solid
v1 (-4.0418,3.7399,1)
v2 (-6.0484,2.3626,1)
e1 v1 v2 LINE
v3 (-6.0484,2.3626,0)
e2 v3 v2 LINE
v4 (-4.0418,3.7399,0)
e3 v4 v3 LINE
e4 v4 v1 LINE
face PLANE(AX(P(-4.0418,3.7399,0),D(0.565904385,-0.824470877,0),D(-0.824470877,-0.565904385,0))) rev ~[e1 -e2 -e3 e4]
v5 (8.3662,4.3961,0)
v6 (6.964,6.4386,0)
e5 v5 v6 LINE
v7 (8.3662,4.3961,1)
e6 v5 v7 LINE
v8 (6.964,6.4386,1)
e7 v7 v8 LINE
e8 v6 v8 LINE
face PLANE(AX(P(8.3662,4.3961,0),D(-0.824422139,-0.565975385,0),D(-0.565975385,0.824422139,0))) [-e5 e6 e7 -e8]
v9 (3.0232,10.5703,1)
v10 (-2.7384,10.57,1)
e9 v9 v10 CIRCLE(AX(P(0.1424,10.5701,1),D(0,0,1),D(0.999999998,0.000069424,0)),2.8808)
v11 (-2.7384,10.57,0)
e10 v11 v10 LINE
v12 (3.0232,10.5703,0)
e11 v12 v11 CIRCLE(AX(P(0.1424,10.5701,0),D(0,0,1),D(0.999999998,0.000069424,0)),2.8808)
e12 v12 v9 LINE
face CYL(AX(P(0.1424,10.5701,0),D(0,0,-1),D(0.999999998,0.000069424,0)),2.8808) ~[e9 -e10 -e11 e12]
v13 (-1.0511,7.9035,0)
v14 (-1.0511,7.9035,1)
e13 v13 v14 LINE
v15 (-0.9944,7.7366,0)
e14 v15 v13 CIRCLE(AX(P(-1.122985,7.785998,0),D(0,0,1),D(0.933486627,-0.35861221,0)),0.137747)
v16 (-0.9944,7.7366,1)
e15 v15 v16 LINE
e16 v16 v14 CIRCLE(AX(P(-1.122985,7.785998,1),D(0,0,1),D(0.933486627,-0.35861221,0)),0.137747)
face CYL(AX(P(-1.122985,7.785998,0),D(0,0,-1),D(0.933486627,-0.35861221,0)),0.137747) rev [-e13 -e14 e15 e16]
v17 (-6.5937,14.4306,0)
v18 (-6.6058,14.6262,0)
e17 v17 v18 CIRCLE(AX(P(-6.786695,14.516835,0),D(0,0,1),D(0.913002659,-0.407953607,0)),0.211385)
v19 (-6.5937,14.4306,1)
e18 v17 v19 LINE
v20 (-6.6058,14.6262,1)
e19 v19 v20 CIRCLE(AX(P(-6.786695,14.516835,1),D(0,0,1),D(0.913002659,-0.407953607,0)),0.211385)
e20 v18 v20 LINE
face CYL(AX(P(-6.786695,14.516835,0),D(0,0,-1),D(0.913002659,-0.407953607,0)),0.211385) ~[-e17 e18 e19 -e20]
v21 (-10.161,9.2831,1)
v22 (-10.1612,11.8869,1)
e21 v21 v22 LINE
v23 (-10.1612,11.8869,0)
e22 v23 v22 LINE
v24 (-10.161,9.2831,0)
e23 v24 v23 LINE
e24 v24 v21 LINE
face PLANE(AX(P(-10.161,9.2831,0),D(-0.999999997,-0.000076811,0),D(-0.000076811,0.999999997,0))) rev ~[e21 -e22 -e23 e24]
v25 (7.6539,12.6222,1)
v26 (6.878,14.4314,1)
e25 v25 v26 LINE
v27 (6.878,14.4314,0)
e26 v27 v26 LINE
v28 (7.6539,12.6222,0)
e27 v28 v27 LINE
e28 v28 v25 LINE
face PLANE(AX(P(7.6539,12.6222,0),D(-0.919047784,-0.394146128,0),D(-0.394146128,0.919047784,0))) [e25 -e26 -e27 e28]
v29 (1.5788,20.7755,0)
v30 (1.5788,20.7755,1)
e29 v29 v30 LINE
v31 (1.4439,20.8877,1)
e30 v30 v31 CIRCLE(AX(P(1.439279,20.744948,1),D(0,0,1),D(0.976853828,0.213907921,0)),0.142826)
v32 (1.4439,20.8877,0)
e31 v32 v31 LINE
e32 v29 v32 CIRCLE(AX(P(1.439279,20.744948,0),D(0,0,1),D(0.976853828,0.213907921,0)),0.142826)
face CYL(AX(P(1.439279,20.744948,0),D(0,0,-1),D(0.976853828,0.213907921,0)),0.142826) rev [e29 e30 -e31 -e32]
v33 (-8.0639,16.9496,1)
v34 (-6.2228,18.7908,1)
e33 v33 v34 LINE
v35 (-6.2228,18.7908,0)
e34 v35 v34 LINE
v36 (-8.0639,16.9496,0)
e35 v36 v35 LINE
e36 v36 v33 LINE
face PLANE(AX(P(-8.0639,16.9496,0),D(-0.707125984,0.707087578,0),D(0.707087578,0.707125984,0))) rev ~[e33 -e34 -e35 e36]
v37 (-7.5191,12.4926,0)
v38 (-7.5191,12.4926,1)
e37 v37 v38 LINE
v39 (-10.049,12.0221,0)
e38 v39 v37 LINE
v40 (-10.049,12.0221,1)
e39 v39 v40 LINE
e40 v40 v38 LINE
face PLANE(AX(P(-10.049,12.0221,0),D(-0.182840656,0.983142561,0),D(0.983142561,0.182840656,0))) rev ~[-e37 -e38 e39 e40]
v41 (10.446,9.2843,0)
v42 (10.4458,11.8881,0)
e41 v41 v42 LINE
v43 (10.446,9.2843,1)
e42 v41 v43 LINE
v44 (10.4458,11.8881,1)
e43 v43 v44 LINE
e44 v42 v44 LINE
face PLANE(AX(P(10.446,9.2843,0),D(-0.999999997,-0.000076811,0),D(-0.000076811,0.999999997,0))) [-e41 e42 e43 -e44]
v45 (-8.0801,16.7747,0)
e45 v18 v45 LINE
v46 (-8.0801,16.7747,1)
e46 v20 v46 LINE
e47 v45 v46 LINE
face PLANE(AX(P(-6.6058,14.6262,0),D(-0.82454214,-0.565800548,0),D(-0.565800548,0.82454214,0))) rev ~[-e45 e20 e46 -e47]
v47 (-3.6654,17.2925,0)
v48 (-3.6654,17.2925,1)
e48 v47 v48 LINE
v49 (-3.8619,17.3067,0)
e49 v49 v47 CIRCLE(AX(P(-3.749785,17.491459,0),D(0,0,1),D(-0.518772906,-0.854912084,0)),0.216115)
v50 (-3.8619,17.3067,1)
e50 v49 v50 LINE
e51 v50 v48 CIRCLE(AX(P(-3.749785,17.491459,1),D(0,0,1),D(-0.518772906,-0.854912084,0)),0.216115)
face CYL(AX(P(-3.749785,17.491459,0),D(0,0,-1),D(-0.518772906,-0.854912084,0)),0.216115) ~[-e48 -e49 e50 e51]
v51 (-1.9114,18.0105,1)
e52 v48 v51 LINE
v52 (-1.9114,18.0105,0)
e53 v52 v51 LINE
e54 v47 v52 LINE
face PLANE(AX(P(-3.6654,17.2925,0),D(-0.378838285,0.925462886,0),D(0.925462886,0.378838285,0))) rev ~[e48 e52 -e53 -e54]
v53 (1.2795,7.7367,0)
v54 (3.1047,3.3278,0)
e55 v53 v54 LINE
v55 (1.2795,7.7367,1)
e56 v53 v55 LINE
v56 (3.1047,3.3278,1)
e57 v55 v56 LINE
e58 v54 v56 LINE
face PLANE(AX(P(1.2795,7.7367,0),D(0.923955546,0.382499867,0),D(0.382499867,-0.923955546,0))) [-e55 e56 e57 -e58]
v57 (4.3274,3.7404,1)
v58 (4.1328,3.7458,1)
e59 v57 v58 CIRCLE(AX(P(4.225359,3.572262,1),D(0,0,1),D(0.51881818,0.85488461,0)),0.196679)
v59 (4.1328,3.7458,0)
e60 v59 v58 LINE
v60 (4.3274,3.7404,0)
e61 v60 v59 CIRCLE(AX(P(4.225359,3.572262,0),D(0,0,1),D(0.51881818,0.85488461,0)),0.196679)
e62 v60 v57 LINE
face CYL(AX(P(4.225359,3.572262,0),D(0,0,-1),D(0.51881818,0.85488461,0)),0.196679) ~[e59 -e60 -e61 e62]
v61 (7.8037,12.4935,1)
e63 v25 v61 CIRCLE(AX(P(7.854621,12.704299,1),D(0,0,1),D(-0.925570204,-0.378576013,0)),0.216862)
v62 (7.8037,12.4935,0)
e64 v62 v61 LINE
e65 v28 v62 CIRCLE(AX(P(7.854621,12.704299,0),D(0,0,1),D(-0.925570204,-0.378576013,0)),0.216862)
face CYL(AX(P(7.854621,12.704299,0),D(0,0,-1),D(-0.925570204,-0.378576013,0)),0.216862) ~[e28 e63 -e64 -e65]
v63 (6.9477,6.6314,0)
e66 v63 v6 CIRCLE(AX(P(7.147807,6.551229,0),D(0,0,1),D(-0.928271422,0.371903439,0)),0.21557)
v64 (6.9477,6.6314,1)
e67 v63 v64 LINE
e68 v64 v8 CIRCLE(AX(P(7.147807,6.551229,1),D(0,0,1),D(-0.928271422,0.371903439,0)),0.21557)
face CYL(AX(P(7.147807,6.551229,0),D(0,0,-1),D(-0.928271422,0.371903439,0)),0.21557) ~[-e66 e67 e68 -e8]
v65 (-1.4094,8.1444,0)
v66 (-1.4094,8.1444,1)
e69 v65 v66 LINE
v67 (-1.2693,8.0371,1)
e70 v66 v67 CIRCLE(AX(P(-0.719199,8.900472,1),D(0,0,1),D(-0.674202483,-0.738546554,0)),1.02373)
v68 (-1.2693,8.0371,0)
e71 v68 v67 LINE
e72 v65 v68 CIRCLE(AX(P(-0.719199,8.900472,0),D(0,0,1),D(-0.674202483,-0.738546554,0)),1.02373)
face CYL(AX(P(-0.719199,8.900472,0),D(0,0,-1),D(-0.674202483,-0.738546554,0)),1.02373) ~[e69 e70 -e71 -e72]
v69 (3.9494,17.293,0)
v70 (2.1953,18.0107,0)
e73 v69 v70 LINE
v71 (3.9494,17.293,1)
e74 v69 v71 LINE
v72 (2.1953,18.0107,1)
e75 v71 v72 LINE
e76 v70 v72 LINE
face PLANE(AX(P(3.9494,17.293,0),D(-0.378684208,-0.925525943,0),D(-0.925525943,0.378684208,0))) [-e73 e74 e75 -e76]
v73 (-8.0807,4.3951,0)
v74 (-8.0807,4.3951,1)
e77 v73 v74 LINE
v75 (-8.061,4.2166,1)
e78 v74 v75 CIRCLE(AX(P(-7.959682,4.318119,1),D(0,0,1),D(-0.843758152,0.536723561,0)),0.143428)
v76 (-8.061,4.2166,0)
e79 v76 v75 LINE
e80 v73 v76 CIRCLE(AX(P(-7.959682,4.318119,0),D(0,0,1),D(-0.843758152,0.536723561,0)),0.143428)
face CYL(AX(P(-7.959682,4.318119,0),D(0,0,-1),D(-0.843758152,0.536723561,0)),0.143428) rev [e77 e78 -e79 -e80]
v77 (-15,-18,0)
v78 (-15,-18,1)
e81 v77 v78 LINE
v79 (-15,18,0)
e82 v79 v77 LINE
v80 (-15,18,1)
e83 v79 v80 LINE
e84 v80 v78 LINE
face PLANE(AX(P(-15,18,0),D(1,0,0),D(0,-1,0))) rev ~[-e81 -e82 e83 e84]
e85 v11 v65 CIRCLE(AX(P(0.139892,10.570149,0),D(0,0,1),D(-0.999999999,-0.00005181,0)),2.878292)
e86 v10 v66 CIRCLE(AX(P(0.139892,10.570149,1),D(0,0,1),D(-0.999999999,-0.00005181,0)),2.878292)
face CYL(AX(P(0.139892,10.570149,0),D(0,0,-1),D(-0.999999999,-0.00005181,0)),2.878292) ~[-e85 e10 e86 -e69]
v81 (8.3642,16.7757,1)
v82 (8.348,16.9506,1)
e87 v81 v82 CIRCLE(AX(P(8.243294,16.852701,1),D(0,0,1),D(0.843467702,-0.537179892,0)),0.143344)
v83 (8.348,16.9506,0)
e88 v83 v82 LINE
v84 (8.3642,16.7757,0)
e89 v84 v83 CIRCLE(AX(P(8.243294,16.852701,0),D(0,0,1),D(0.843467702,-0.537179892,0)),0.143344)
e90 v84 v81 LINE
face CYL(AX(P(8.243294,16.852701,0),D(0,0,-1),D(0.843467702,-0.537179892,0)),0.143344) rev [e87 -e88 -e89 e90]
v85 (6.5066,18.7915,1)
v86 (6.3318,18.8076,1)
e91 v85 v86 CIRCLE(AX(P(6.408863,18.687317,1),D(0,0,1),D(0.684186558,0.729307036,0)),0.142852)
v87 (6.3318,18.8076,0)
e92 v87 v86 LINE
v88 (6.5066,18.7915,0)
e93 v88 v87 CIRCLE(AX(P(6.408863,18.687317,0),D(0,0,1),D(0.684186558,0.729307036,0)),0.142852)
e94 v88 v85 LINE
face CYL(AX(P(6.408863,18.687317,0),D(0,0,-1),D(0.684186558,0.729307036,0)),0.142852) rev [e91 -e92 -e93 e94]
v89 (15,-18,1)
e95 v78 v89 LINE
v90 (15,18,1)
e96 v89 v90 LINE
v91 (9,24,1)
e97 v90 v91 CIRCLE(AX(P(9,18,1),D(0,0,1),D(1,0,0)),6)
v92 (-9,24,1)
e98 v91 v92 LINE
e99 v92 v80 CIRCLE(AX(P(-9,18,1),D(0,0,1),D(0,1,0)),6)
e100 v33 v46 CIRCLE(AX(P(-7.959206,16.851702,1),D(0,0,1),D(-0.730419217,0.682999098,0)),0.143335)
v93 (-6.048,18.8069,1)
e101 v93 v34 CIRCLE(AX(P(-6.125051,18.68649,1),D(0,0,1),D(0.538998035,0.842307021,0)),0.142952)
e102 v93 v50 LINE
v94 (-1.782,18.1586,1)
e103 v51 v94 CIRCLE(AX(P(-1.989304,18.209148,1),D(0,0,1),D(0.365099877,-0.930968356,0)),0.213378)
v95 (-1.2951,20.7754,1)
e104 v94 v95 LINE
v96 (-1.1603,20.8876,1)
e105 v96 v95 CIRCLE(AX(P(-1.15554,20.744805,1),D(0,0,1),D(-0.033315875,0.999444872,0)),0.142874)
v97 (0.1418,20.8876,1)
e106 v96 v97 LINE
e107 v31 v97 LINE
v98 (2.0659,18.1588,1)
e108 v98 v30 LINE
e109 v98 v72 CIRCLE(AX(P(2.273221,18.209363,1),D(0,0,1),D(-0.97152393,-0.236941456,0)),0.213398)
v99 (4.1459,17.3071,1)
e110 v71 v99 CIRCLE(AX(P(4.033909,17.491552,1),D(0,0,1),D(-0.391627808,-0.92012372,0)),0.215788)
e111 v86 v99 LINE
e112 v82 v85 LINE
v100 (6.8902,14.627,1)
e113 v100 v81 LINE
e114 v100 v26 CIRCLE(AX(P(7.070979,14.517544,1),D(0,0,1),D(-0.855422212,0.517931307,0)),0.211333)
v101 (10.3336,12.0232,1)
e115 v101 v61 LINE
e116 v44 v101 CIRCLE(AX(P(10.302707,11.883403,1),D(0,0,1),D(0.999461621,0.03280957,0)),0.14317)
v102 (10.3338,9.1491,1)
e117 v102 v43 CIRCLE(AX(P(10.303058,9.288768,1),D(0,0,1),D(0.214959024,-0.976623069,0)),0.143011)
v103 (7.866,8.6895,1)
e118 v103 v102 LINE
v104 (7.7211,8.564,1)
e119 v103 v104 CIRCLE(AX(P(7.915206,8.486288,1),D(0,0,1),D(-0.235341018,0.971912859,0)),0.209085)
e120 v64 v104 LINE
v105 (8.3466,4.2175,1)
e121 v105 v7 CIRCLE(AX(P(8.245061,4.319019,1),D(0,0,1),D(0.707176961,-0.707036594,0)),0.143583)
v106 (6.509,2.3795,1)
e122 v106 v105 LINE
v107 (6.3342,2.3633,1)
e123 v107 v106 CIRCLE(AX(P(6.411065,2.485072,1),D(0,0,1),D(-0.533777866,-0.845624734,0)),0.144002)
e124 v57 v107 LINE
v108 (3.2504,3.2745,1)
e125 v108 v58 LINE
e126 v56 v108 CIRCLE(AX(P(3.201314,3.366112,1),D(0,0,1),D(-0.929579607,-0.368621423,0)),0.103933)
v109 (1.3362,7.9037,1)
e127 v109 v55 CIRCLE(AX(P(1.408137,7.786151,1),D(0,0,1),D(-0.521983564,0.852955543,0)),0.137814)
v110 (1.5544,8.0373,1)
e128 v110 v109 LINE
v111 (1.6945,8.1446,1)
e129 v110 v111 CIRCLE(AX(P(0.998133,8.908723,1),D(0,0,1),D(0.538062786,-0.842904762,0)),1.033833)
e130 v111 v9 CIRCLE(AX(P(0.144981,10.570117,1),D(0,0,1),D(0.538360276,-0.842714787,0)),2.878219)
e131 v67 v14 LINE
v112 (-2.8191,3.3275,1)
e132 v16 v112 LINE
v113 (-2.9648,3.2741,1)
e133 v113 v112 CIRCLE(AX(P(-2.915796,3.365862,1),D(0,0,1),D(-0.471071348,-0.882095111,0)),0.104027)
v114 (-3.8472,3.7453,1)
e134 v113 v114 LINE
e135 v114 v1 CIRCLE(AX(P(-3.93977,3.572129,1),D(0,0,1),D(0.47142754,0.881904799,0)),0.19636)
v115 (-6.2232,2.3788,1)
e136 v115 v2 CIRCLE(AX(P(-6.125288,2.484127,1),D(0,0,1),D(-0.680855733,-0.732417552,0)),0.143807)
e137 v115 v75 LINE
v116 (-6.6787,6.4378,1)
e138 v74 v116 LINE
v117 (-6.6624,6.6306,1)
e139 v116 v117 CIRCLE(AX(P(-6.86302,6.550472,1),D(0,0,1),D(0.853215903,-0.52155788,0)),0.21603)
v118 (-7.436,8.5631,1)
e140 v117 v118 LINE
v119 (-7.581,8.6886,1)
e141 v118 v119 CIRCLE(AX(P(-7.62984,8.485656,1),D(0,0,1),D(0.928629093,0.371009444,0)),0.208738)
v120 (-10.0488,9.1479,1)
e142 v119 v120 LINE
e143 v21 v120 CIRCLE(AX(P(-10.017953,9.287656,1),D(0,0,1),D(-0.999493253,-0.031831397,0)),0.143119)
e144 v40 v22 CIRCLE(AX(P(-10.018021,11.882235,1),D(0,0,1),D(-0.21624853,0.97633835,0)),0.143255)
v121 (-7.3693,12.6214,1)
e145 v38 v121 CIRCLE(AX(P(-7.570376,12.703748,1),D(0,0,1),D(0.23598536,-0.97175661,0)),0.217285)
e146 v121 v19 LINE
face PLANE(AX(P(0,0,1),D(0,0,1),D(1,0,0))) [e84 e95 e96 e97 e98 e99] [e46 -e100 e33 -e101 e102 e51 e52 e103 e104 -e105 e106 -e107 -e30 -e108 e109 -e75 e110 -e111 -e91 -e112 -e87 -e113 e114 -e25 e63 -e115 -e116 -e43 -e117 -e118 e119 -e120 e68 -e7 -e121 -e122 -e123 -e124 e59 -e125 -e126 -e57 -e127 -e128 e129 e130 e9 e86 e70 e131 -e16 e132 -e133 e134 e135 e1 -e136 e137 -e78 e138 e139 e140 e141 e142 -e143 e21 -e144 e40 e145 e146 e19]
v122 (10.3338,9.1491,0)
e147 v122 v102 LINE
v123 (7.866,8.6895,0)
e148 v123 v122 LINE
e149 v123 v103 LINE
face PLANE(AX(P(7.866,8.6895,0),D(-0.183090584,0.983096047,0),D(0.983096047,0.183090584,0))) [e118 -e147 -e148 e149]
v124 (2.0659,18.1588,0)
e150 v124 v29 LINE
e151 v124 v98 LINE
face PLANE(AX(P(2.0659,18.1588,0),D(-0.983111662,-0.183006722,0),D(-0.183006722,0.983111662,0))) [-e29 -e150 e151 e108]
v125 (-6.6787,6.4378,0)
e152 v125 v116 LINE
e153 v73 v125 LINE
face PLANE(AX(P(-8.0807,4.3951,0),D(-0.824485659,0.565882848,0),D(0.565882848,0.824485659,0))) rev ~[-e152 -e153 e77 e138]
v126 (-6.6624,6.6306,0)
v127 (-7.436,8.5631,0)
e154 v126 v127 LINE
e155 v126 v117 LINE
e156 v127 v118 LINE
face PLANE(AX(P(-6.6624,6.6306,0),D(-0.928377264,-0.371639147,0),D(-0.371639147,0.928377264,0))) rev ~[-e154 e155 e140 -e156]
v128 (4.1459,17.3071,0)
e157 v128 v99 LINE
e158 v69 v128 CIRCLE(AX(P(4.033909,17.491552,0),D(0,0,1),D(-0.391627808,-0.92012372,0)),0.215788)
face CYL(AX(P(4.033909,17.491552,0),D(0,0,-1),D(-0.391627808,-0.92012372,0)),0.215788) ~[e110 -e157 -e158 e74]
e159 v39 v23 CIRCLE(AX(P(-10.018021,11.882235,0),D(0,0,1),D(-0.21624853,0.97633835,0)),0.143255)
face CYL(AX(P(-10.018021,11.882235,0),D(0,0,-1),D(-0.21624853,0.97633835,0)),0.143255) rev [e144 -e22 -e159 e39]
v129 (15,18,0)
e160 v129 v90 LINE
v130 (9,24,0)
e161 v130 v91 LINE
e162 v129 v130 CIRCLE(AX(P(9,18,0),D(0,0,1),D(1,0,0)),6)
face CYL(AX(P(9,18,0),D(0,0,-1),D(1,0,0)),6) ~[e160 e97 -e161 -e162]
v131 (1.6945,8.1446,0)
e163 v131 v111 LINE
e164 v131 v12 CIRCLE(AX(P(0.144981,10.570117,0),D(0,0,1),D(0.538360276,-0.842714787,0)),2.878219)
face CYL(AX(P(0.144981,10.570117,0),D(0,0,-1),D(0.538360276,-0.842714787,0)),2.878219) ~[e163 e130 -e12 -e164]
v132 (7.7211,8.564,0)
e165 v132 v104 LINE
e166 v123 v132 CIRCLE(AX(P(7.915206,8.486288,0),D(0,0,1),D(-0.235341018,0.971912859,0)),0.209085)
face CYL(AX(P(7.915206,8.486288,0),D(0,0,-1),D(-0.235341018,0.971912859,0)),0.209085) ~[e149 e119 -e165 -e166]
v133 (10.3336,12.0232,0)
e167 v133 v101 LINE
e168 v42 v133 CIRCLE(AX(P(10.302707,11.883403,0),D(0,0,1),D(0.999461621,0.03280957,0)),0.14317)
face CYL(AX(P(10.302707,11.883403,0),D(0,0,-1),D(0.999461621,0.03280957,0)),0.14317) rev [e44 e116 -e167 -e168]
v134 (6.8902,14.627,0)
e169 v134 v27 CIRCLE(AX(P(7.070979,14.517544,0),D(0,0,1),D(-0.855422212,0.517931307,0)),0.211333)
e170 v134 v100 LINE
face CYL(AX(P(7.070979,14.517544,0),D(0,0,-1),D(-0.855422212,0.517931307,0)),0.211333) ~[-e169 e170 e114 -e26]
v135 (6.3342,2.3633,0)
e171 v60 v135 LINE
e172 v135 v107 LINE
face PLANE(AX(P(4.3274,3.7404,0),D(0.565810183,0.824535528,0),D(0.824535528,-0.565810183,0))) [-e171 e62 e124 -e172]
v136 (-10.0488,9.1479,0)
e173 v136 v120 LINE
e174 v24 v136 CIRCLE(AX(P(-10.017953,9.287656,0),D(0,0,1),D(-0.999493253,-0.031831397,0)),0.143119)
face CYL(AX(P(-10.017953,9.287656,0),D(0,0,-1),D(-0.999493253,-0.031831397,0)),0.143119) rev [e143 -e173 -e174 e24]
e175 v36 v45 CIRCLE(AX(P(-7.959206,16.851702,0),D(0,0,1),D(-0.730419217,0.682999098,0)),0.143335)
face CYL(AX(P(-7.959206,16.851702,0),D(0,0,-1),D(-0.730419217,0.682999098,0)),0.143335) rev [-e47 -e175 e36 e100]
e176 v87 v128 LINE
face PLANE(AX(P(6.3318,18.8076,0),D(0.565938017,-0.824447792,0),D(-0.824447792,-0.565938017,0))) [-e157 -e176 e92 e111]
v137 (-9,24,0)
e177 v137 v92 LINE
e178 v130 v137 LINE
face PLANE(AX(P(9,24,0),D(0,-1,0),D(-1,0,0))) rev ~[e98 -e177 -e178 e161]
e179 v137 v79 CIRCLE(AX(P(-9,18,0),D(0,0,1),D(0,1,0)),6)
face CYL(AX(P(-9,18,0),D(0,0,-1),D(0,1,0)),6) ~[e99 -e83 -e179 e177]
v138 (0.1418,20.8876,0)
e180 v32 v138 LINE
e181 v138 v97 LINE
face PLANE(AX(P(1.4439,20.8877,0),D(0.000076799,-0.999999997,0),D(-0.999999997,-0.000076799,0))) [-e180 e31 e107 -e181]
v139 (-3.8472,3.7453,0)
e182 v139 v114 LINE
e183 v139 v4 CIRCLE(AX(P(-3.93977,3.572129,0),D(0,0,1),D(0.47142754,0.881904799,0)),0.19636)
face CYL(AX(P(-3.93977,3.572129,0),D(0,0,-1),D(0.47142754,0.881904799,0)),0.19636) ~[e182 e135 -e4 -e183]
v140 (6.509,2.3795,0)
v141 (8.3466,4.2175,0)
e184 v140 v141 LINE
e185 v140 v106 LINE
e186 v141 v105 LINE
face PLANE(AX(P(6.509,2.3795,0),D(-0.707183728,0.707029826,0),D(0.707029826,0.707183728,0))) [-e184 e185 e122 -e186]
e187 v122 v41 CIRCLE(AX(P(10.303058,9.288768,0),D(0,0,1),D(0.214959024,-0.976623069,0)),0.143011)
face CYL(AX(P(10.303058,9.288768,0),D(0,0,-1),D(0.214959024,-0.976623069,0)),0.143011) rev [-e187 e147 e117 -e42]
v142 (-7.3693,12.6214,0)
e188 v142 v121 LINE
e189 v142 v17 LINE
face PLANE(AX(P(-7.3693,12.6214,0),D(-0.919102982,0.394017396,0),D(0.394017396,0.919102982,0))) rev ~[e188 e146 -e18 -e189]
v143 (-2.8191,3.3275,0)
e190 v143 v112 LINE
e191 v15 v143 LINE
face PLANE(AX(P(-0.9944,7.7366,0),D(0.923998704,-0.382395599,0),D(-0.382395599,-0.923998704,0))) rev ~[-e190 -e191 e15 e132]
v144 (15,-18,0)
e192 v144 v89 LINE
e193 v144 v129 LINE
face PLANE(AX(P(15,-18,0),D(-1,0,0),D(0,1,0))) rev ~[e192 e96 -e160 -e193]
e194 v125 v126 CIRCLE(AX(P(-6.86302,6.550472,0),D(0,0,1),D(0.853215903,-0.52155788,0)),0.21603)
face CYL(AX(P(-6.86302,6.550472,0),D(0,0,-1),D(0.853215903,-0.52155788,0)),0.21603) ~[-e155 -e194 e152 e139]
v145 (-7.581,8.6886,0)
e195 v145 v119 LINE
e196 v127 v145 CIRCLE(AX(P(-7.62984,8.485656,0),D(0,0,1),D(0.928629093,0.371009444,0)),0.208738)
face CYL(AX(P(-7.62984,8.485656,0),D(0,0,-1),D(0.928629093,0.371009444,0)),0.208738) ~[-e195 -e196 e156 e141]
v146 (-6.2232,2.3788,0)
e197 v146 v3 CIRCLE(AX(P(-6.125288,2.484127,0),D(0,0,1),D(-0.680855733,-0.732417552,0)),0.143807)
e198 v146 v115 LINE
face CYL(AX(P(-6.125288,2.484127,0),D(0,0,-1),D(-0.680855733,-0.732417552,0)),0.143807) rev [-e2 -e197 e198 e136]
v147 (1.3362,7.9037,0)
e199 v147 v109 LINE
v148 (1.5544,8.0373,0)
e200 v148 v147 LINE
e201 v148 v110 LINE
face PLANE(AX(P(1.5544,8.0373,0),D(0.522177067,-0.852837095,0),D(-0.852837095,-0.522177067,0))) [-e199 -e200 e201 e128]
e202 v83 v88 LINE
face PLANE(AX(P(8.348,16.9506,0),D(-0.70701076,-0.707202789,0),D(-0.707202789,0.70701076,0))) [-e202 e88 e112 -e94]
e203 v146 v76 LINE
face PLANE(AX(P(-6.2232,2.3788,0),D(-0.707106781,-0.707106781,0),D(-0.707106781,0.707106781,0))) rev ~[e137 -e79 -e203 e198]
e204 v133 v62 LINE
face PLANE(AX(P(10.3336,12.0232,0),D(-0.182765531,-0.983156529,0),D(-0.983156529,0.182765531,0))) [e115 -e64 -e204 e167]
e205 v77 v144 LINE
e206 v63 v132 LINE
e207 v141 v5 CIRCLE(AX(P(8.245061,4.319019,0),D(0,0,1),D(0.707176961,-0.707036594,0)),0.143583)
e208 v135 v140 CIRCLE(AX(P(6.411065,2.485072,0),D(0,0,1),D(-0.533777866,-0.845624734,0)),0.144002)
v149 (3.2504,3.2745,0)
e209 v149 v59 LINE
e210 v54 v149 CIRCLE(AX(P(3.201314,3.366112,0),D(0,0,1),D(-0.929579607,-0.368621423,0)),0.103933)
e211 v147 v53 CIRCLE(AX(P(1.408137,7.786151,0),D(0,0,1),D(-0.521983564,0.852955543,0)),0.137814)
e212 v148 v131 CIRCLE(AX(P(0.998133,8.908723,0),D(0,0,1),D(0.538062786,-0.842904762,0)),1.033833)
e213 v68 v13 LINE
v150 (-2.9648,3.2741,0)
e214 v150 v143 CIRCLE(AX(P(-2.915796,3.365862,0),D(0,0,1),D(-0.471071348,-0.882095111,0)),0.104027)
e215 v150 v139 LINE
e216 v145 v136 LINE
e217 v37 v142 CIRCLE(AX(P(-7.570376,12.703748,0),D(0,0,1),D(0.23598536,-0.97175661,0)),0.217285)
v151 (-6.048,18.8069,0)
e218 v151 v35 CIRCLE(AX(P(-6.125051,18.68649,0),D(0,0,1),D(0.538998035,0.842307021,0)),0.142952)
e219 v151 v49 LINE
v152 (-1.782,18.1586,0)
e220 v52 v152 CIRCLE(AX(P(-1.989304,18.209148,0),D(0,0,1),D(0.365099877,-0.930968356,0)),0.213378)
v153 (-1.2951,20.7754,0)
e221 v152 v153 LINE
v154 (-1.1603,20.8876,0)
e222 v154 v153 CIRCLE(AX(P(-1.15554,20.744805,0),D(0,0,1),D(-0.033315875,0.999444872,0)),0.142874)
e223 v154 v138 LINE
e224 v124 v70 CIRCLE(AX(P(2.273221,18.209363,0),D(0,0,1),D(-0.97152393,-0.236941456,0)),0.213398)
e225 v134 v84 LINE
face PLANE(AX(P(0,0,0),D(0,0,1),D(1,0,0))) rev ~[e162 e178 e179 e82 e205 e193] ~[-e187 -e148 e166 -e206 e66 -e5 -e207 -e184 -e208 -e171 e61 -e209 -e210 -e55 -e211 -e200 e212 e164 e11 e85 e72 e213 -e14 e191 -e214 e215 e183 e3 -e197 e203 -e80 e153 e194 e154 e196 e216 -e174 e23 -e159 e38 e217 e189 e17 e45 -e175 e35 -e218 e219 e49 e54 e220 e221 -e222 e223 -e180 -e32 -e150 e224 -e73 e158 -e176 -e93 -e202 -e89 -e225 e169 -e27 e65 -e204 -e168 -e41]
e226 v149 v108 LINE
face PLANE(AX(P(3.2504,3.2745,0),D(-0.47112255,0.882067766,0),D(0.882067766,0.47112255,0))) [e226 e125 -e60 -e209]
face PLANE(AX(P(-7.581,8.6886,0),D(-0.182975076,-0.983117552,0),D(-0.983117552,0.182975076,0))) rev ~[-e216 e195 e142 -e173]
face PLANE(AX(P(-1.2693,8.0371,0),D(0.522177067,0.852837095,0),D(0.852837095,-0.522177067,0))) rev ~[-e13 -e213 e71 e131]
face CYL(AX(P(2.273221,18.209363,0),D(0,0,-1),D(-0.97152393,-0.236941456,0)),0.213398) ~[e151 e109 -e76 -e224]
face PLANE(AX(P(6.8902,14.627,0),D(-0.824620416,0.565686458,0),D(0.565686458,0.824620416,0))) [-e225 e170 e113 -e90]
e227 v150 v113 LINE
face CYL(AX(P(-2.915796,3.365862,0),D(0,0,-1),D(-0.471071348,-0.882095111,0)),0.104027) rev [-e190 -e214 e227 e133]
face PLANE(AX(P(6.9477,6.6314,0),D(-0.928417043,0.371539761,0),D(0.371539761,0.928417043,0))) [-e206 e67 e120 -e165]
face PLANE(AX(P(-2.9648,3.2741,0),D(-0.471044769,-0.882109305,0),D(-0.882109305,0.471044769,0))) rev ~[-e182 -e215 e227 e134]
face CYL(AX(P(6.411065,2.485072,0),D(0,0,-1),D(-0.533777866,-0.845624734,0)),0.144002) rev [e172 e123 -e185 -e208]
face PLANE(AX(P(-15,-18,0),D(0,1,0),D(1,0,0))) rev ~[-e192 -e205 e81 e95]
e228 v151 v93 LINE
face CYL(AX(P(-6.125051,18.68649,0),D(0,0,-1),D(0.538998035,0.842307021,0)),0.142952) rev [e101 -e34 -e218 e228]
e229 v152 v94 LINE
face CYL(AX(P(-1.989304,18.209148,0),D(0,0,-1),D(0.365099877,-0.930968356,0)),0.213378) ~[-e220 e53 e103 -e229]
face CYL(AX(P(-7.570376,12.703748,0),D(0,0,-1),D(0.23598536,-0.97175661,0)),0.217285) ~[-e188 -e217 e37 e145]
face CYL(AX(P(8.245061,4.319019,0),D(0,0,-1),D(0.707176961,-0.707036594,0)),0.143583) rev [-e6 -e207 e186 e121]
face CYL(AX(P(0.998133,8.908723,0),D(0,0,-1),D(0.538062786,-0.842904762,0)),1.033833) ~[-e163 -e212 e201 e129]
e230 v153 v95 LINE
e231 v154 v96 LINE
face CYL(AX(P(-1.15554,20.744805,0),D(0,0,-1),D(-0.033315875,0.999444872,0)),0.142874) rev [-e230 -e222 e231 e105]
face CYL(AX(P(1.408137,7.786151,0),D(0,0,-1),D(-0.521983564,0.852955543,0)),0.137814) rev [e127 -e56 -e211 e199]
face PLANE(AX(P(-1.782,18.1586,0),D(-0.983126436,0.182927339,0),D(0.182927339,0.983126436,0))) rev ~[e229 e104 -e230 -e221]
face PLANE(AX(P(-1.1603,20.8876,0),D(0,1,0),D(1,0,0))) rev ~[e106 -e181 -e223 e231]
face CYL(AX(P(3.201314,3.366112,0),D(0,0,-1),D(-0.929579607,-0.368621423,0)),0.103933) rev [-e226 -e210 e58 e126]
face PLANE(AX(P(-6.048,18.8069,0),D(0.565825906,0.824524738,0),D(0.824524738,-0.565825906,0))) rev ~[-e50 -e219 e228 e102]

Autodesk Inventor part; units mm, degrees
ref_plane "YZ Plane" through (0, 0, 0) normal (1, 0, 0) x (0, 1, 0)
ref_plane "XZ Plane" through (0, 0, 0) normal (0, 1, 0) x (-1, 0, 0)
ref_plane "XY Plane" through (0, 0, 0) normal (0, 0, 1) x (1, 0, 0)
sketch "Sketch1" plane through (0, 0, 0) normal (0, 0, 1) x (1, 0, 0)
  line L0 (-15, -18) -> (15, -18)
  line L1 (15, -18) -> (15, 18)
  line L2 (9, 24) -> (-9, 24)
  line L3 (-15, 18) -> (-15, -18)
  arc A0 (-9, 24) -> (-15, 18) centre (-9, 18) ccw
  arc A1 (15, 18) -> (9, 24) centre (9, 18) ccw
  point P0 (0, 0)
  point P1 (15, 24)
  point P2 (-15, 24)
  point P3 (15, 0)
  point P4 (0, 24)
  dimension "d0" = 30
  dimension "d1" = 42
  dimension "d2" = 6
extrude "Extrusion1" add sketch "Sketch1" along normal blind 1
sketch "Sketch2" plane through (0, 0, 0) normal (0, 0, 1) x (1, 0, 0)
  arc A0 (-3.8619, 17.3067) -> (-3.6654, 17.2925) centre (-3.7499, 17.4911) ccw
  line L0 (-3.6654, 17.2925) -> (-1.9114, 18.0105)
  arc A1 (-1.9114, 18.0105) -> (-1.782, 18.1586) centre (-1.9892, 18.209) ccw
  line L1 (-1.782, 18.1586) -> (-1.2951, 20.7754)
  arc A2 (-1.1603, 20.8876) -> (-1.2951, 20.7754) centre (-1.1555, 20.7447) ccw
  line L2 (-1.1603, 20.8876) -> (0.1418, 20.8876)
  arc A3 (3.0232, 10.5703) -> (-2.7384, 10.57) centre (0.1424, 10.5701) ccw
  arc A4 (-2.7384, 10.57) -> (-1.4094, 8.1444) centre (0.1397, 10.5701) ccw
  arc A5 (-1.4094, 8.1444) -> (-1.2693, 8.0371) centre (-0.717, 8.9031) ccw
  line L3 (-1.2693, 8.0371) -> (-1.0511, 7.9035)
  line L4 (-0.9944, 7.7366) -> (-2.8191, 3.3275)
  arc A6 (-2.9648, 3.2741) -> (-2.8191, 3.3275) centre (-2.9158, 3.3658) ccw
  line L5 (-2.9648, 3.2741) -> (-3.8472, 3.7453)
  arc A7 (-3.8472, 3.7453) -> (-4.0418, 3.7399) centre (-3.9398, 3.572) ccw
  line L6 (-4.0418, 3.7399) -> (-6.0484, 2.3626)
  arc A8 (-6.2232, 2.3788) -> (-6.0484, 2.3626) centre (-6.1253, 2.4841) ccw
  line L7 (-6.2232, 2.3788) -> (-8.061, 4.2166)
  arc A9 (-8.0807, 4.3951) -> (-8.061, 4.2166) centre (-7.9596, 4.3181) ccw
  line L8 (-8.0807, 4.3951) -> (-6.6787, 6.4378)
  arc A10 (-6.6787, 6.4378) -> (-6.6624, 6.6306) centre (-6.8628, 6.5504) ccw
  line L9 (-6.6624, 6.6306) -> (-7.436, 8.5631)
  arc A11 (-7.436, 8.5631) -> (-7.581, 8.6886) centre (-7.6302, 8.4854) ccw
  line L10 (-7.581, 8.6886) -> (-10.0488, 9.1479)
  arc A12 (-10.161, 9.2831) -> (-10.0488, 9.1479) centre (-10.0181, 9.2876) ccw
  line L11 (-10.161, 9.2831) -> (-10.1612, 11.8869)
  arc A13 (-10.049, 12.0221) -> (-10.1612, 11.8869) centre (-10.018, 11.8822) ccw
  line L12 (-10.049, 12.0221) -> (-7.5191, 12.4926)
  arc A14 (-7.5191, 12.4926) -> (-7.3693, 12.6214) centre (-7.5703, 12.7036) ccw
  line L13 (-7.3693, 12.6214) -> (-6.5937, 14.4306)
  arc A15 (-6.5937, 14.4306) -> (-6.6058, 14.6262) centre (-6.7865, 14.5168) ccw
  line L14 (-6.6058, 14.6262) -> (-8.0801, 16.7747)
  arc A16 (-8.0639, 16.9496) -> (-8.0801, 16.7747) centre (-7.9592, 16.8517) ccw
  line L15 (-8.0639, 16.9496) -> (-6.2228, 18.7908)
  arc A17 (-6.048, 18.8069) -> (-6.2228, 18.7908) centre (-6.125, 18.6867) ccw
  line L16 (-6.048, 18.8069) -> (-3.8619, 17.3067)
  arc A18 (-0.9944, 7.7366) -> (-1.0511, 7.9035) centre (-1.1231, 7.786) ccw
  line L17 (0.1418, 20.8876) -> (0.1429, 2.0479) construction
  arc A19 (2.0659, 18.1588) -> (2.1953, 18.0107) centre (2.2731, 18.2093) ccw
  line L18 (2.0659, 18.1588) -> (1.5788, 20.7755)
  arc A20 (1.6945, 8.1446) -> (3.0232, 10.5703) centre (0.145, 10.5701) ccw
  arc A21 (1.5544, 8.0373) -> (1.6945, 8.1446) centre (1.002, 8.9032) ccw
  line L19 (1.5544, 8.0373) -> (1.3362, 7.9037)
  line L20 (1.2795, 7.7367) -> (3.1047, 3.3278)
  line L21 (8.3662, 4.3961) -> (6.964, 6.4386)
  arc A22 (8.3466, 4.2175) -> (8.3662, 4.3961) centre (8.2451, 4.319) ccw
  arc A23 (4.3274, 3.7404) -> (4.1328, 3.7458) centre (4.2254, 3.5724) ccw
  line L22 (3.2504, 3.2745) -> (4.1328, 3.7458)
  arc A24 (3.1047, 3.3278) -> (3.2504, 3.2745) centre (3.2014, 3.3662) ccw
  line L23 (4.3274, 3.7404) -> (6.3342, 2.3633)
  arc A25 (6.3342, 2.3633) -> (6.509, 2.3795) centre (6.411, 2.4848) ccw
  line L24 (6.509, 2.3795) -> (8.3466, 4.2175)
  line L25 (10.3336, 12.0232) -> (7.8037, 12.4935)
  arc A26 (10.4458, 11.8881) -> (10.3336, 12.0232) centre (10.3027, 11.8834) ccw
  arc A27 (7.866, 8.6895) -> (7.7211, 8.564) centre (7.9152, 8.4863) ccw
  arc A28 (10.3338, 9.1491) -> (10.446, 9.2843) centre (10.3031, 9.2887) ccw
  line L26 (7.866, 8.6895) -> (10.3338, 9.1491)
  line L27 (6.9477, 6.6314) -> (7.7211, 8.564)
  arc A29 (6.9477, 6.6314) -> (6.964, 6.4386) centre (7.148, 6.5512) ccw
  line L28 (10.446, 9.2843) -> (10.4458, 11.8881)
  arc A30 (3.9494, 17.293) -> (4.1459, 17.3071) centre (4.0339, 17.4915) ccw
  line L29 (3.9494, 17.293) -> (2.1953, 18.0107)
  arc A31 (7.6539, 12.6222) -> (7.8037, 12.4935) centre (7.8549, 12.7045) ccw
  line L30 (7.6539, 12.6222) -> (6.878, 14.4314)
  arc A32 (6.8902, 14.627) -> (6.878, 14.4314) centre (7.0708, 14.5176) ccw
  line L31 (6.8902, 14.627) -> (8.3642, 16.7757)
  arc A33 (8.3642, 16.7757) -> (8.348, 16.9506) centre (8.2433, 16.8527) ccw
  line L32 (1.4439, 20.8877) -> (0.1418, 20.8876)
  arc A34 (1.5788, 20.7755) -> (1.4439, 20.8877) centre (1.4392, 20.7449) ccw
  line L33 (6.3318, 18.8076) -> (4.1459, 17.3071)
  arc A35 (1.3362, 7.9037) -> (1.2795, 7.7367) centre (1.4082, 7.7861) ccw
  line L34 (8.348, 16.9506) -> (6.5066, 18.7915)
  arc A36 (6.5066, 18.7915) -> (6.3318, 18.8076) centre (6.4089, 18.6874) ccw
  point P0 (0, 0)
  point P1 (0.145, 10.5701)
  point P2 (0.145, 10.5701)
  point P3 (0.145, 10.5701)
  dimension "d5" = 18.525
extrude "Extrusion2" cut sketch "Sketch2" along normal blind 1
properties part number "VerticalPiece"
